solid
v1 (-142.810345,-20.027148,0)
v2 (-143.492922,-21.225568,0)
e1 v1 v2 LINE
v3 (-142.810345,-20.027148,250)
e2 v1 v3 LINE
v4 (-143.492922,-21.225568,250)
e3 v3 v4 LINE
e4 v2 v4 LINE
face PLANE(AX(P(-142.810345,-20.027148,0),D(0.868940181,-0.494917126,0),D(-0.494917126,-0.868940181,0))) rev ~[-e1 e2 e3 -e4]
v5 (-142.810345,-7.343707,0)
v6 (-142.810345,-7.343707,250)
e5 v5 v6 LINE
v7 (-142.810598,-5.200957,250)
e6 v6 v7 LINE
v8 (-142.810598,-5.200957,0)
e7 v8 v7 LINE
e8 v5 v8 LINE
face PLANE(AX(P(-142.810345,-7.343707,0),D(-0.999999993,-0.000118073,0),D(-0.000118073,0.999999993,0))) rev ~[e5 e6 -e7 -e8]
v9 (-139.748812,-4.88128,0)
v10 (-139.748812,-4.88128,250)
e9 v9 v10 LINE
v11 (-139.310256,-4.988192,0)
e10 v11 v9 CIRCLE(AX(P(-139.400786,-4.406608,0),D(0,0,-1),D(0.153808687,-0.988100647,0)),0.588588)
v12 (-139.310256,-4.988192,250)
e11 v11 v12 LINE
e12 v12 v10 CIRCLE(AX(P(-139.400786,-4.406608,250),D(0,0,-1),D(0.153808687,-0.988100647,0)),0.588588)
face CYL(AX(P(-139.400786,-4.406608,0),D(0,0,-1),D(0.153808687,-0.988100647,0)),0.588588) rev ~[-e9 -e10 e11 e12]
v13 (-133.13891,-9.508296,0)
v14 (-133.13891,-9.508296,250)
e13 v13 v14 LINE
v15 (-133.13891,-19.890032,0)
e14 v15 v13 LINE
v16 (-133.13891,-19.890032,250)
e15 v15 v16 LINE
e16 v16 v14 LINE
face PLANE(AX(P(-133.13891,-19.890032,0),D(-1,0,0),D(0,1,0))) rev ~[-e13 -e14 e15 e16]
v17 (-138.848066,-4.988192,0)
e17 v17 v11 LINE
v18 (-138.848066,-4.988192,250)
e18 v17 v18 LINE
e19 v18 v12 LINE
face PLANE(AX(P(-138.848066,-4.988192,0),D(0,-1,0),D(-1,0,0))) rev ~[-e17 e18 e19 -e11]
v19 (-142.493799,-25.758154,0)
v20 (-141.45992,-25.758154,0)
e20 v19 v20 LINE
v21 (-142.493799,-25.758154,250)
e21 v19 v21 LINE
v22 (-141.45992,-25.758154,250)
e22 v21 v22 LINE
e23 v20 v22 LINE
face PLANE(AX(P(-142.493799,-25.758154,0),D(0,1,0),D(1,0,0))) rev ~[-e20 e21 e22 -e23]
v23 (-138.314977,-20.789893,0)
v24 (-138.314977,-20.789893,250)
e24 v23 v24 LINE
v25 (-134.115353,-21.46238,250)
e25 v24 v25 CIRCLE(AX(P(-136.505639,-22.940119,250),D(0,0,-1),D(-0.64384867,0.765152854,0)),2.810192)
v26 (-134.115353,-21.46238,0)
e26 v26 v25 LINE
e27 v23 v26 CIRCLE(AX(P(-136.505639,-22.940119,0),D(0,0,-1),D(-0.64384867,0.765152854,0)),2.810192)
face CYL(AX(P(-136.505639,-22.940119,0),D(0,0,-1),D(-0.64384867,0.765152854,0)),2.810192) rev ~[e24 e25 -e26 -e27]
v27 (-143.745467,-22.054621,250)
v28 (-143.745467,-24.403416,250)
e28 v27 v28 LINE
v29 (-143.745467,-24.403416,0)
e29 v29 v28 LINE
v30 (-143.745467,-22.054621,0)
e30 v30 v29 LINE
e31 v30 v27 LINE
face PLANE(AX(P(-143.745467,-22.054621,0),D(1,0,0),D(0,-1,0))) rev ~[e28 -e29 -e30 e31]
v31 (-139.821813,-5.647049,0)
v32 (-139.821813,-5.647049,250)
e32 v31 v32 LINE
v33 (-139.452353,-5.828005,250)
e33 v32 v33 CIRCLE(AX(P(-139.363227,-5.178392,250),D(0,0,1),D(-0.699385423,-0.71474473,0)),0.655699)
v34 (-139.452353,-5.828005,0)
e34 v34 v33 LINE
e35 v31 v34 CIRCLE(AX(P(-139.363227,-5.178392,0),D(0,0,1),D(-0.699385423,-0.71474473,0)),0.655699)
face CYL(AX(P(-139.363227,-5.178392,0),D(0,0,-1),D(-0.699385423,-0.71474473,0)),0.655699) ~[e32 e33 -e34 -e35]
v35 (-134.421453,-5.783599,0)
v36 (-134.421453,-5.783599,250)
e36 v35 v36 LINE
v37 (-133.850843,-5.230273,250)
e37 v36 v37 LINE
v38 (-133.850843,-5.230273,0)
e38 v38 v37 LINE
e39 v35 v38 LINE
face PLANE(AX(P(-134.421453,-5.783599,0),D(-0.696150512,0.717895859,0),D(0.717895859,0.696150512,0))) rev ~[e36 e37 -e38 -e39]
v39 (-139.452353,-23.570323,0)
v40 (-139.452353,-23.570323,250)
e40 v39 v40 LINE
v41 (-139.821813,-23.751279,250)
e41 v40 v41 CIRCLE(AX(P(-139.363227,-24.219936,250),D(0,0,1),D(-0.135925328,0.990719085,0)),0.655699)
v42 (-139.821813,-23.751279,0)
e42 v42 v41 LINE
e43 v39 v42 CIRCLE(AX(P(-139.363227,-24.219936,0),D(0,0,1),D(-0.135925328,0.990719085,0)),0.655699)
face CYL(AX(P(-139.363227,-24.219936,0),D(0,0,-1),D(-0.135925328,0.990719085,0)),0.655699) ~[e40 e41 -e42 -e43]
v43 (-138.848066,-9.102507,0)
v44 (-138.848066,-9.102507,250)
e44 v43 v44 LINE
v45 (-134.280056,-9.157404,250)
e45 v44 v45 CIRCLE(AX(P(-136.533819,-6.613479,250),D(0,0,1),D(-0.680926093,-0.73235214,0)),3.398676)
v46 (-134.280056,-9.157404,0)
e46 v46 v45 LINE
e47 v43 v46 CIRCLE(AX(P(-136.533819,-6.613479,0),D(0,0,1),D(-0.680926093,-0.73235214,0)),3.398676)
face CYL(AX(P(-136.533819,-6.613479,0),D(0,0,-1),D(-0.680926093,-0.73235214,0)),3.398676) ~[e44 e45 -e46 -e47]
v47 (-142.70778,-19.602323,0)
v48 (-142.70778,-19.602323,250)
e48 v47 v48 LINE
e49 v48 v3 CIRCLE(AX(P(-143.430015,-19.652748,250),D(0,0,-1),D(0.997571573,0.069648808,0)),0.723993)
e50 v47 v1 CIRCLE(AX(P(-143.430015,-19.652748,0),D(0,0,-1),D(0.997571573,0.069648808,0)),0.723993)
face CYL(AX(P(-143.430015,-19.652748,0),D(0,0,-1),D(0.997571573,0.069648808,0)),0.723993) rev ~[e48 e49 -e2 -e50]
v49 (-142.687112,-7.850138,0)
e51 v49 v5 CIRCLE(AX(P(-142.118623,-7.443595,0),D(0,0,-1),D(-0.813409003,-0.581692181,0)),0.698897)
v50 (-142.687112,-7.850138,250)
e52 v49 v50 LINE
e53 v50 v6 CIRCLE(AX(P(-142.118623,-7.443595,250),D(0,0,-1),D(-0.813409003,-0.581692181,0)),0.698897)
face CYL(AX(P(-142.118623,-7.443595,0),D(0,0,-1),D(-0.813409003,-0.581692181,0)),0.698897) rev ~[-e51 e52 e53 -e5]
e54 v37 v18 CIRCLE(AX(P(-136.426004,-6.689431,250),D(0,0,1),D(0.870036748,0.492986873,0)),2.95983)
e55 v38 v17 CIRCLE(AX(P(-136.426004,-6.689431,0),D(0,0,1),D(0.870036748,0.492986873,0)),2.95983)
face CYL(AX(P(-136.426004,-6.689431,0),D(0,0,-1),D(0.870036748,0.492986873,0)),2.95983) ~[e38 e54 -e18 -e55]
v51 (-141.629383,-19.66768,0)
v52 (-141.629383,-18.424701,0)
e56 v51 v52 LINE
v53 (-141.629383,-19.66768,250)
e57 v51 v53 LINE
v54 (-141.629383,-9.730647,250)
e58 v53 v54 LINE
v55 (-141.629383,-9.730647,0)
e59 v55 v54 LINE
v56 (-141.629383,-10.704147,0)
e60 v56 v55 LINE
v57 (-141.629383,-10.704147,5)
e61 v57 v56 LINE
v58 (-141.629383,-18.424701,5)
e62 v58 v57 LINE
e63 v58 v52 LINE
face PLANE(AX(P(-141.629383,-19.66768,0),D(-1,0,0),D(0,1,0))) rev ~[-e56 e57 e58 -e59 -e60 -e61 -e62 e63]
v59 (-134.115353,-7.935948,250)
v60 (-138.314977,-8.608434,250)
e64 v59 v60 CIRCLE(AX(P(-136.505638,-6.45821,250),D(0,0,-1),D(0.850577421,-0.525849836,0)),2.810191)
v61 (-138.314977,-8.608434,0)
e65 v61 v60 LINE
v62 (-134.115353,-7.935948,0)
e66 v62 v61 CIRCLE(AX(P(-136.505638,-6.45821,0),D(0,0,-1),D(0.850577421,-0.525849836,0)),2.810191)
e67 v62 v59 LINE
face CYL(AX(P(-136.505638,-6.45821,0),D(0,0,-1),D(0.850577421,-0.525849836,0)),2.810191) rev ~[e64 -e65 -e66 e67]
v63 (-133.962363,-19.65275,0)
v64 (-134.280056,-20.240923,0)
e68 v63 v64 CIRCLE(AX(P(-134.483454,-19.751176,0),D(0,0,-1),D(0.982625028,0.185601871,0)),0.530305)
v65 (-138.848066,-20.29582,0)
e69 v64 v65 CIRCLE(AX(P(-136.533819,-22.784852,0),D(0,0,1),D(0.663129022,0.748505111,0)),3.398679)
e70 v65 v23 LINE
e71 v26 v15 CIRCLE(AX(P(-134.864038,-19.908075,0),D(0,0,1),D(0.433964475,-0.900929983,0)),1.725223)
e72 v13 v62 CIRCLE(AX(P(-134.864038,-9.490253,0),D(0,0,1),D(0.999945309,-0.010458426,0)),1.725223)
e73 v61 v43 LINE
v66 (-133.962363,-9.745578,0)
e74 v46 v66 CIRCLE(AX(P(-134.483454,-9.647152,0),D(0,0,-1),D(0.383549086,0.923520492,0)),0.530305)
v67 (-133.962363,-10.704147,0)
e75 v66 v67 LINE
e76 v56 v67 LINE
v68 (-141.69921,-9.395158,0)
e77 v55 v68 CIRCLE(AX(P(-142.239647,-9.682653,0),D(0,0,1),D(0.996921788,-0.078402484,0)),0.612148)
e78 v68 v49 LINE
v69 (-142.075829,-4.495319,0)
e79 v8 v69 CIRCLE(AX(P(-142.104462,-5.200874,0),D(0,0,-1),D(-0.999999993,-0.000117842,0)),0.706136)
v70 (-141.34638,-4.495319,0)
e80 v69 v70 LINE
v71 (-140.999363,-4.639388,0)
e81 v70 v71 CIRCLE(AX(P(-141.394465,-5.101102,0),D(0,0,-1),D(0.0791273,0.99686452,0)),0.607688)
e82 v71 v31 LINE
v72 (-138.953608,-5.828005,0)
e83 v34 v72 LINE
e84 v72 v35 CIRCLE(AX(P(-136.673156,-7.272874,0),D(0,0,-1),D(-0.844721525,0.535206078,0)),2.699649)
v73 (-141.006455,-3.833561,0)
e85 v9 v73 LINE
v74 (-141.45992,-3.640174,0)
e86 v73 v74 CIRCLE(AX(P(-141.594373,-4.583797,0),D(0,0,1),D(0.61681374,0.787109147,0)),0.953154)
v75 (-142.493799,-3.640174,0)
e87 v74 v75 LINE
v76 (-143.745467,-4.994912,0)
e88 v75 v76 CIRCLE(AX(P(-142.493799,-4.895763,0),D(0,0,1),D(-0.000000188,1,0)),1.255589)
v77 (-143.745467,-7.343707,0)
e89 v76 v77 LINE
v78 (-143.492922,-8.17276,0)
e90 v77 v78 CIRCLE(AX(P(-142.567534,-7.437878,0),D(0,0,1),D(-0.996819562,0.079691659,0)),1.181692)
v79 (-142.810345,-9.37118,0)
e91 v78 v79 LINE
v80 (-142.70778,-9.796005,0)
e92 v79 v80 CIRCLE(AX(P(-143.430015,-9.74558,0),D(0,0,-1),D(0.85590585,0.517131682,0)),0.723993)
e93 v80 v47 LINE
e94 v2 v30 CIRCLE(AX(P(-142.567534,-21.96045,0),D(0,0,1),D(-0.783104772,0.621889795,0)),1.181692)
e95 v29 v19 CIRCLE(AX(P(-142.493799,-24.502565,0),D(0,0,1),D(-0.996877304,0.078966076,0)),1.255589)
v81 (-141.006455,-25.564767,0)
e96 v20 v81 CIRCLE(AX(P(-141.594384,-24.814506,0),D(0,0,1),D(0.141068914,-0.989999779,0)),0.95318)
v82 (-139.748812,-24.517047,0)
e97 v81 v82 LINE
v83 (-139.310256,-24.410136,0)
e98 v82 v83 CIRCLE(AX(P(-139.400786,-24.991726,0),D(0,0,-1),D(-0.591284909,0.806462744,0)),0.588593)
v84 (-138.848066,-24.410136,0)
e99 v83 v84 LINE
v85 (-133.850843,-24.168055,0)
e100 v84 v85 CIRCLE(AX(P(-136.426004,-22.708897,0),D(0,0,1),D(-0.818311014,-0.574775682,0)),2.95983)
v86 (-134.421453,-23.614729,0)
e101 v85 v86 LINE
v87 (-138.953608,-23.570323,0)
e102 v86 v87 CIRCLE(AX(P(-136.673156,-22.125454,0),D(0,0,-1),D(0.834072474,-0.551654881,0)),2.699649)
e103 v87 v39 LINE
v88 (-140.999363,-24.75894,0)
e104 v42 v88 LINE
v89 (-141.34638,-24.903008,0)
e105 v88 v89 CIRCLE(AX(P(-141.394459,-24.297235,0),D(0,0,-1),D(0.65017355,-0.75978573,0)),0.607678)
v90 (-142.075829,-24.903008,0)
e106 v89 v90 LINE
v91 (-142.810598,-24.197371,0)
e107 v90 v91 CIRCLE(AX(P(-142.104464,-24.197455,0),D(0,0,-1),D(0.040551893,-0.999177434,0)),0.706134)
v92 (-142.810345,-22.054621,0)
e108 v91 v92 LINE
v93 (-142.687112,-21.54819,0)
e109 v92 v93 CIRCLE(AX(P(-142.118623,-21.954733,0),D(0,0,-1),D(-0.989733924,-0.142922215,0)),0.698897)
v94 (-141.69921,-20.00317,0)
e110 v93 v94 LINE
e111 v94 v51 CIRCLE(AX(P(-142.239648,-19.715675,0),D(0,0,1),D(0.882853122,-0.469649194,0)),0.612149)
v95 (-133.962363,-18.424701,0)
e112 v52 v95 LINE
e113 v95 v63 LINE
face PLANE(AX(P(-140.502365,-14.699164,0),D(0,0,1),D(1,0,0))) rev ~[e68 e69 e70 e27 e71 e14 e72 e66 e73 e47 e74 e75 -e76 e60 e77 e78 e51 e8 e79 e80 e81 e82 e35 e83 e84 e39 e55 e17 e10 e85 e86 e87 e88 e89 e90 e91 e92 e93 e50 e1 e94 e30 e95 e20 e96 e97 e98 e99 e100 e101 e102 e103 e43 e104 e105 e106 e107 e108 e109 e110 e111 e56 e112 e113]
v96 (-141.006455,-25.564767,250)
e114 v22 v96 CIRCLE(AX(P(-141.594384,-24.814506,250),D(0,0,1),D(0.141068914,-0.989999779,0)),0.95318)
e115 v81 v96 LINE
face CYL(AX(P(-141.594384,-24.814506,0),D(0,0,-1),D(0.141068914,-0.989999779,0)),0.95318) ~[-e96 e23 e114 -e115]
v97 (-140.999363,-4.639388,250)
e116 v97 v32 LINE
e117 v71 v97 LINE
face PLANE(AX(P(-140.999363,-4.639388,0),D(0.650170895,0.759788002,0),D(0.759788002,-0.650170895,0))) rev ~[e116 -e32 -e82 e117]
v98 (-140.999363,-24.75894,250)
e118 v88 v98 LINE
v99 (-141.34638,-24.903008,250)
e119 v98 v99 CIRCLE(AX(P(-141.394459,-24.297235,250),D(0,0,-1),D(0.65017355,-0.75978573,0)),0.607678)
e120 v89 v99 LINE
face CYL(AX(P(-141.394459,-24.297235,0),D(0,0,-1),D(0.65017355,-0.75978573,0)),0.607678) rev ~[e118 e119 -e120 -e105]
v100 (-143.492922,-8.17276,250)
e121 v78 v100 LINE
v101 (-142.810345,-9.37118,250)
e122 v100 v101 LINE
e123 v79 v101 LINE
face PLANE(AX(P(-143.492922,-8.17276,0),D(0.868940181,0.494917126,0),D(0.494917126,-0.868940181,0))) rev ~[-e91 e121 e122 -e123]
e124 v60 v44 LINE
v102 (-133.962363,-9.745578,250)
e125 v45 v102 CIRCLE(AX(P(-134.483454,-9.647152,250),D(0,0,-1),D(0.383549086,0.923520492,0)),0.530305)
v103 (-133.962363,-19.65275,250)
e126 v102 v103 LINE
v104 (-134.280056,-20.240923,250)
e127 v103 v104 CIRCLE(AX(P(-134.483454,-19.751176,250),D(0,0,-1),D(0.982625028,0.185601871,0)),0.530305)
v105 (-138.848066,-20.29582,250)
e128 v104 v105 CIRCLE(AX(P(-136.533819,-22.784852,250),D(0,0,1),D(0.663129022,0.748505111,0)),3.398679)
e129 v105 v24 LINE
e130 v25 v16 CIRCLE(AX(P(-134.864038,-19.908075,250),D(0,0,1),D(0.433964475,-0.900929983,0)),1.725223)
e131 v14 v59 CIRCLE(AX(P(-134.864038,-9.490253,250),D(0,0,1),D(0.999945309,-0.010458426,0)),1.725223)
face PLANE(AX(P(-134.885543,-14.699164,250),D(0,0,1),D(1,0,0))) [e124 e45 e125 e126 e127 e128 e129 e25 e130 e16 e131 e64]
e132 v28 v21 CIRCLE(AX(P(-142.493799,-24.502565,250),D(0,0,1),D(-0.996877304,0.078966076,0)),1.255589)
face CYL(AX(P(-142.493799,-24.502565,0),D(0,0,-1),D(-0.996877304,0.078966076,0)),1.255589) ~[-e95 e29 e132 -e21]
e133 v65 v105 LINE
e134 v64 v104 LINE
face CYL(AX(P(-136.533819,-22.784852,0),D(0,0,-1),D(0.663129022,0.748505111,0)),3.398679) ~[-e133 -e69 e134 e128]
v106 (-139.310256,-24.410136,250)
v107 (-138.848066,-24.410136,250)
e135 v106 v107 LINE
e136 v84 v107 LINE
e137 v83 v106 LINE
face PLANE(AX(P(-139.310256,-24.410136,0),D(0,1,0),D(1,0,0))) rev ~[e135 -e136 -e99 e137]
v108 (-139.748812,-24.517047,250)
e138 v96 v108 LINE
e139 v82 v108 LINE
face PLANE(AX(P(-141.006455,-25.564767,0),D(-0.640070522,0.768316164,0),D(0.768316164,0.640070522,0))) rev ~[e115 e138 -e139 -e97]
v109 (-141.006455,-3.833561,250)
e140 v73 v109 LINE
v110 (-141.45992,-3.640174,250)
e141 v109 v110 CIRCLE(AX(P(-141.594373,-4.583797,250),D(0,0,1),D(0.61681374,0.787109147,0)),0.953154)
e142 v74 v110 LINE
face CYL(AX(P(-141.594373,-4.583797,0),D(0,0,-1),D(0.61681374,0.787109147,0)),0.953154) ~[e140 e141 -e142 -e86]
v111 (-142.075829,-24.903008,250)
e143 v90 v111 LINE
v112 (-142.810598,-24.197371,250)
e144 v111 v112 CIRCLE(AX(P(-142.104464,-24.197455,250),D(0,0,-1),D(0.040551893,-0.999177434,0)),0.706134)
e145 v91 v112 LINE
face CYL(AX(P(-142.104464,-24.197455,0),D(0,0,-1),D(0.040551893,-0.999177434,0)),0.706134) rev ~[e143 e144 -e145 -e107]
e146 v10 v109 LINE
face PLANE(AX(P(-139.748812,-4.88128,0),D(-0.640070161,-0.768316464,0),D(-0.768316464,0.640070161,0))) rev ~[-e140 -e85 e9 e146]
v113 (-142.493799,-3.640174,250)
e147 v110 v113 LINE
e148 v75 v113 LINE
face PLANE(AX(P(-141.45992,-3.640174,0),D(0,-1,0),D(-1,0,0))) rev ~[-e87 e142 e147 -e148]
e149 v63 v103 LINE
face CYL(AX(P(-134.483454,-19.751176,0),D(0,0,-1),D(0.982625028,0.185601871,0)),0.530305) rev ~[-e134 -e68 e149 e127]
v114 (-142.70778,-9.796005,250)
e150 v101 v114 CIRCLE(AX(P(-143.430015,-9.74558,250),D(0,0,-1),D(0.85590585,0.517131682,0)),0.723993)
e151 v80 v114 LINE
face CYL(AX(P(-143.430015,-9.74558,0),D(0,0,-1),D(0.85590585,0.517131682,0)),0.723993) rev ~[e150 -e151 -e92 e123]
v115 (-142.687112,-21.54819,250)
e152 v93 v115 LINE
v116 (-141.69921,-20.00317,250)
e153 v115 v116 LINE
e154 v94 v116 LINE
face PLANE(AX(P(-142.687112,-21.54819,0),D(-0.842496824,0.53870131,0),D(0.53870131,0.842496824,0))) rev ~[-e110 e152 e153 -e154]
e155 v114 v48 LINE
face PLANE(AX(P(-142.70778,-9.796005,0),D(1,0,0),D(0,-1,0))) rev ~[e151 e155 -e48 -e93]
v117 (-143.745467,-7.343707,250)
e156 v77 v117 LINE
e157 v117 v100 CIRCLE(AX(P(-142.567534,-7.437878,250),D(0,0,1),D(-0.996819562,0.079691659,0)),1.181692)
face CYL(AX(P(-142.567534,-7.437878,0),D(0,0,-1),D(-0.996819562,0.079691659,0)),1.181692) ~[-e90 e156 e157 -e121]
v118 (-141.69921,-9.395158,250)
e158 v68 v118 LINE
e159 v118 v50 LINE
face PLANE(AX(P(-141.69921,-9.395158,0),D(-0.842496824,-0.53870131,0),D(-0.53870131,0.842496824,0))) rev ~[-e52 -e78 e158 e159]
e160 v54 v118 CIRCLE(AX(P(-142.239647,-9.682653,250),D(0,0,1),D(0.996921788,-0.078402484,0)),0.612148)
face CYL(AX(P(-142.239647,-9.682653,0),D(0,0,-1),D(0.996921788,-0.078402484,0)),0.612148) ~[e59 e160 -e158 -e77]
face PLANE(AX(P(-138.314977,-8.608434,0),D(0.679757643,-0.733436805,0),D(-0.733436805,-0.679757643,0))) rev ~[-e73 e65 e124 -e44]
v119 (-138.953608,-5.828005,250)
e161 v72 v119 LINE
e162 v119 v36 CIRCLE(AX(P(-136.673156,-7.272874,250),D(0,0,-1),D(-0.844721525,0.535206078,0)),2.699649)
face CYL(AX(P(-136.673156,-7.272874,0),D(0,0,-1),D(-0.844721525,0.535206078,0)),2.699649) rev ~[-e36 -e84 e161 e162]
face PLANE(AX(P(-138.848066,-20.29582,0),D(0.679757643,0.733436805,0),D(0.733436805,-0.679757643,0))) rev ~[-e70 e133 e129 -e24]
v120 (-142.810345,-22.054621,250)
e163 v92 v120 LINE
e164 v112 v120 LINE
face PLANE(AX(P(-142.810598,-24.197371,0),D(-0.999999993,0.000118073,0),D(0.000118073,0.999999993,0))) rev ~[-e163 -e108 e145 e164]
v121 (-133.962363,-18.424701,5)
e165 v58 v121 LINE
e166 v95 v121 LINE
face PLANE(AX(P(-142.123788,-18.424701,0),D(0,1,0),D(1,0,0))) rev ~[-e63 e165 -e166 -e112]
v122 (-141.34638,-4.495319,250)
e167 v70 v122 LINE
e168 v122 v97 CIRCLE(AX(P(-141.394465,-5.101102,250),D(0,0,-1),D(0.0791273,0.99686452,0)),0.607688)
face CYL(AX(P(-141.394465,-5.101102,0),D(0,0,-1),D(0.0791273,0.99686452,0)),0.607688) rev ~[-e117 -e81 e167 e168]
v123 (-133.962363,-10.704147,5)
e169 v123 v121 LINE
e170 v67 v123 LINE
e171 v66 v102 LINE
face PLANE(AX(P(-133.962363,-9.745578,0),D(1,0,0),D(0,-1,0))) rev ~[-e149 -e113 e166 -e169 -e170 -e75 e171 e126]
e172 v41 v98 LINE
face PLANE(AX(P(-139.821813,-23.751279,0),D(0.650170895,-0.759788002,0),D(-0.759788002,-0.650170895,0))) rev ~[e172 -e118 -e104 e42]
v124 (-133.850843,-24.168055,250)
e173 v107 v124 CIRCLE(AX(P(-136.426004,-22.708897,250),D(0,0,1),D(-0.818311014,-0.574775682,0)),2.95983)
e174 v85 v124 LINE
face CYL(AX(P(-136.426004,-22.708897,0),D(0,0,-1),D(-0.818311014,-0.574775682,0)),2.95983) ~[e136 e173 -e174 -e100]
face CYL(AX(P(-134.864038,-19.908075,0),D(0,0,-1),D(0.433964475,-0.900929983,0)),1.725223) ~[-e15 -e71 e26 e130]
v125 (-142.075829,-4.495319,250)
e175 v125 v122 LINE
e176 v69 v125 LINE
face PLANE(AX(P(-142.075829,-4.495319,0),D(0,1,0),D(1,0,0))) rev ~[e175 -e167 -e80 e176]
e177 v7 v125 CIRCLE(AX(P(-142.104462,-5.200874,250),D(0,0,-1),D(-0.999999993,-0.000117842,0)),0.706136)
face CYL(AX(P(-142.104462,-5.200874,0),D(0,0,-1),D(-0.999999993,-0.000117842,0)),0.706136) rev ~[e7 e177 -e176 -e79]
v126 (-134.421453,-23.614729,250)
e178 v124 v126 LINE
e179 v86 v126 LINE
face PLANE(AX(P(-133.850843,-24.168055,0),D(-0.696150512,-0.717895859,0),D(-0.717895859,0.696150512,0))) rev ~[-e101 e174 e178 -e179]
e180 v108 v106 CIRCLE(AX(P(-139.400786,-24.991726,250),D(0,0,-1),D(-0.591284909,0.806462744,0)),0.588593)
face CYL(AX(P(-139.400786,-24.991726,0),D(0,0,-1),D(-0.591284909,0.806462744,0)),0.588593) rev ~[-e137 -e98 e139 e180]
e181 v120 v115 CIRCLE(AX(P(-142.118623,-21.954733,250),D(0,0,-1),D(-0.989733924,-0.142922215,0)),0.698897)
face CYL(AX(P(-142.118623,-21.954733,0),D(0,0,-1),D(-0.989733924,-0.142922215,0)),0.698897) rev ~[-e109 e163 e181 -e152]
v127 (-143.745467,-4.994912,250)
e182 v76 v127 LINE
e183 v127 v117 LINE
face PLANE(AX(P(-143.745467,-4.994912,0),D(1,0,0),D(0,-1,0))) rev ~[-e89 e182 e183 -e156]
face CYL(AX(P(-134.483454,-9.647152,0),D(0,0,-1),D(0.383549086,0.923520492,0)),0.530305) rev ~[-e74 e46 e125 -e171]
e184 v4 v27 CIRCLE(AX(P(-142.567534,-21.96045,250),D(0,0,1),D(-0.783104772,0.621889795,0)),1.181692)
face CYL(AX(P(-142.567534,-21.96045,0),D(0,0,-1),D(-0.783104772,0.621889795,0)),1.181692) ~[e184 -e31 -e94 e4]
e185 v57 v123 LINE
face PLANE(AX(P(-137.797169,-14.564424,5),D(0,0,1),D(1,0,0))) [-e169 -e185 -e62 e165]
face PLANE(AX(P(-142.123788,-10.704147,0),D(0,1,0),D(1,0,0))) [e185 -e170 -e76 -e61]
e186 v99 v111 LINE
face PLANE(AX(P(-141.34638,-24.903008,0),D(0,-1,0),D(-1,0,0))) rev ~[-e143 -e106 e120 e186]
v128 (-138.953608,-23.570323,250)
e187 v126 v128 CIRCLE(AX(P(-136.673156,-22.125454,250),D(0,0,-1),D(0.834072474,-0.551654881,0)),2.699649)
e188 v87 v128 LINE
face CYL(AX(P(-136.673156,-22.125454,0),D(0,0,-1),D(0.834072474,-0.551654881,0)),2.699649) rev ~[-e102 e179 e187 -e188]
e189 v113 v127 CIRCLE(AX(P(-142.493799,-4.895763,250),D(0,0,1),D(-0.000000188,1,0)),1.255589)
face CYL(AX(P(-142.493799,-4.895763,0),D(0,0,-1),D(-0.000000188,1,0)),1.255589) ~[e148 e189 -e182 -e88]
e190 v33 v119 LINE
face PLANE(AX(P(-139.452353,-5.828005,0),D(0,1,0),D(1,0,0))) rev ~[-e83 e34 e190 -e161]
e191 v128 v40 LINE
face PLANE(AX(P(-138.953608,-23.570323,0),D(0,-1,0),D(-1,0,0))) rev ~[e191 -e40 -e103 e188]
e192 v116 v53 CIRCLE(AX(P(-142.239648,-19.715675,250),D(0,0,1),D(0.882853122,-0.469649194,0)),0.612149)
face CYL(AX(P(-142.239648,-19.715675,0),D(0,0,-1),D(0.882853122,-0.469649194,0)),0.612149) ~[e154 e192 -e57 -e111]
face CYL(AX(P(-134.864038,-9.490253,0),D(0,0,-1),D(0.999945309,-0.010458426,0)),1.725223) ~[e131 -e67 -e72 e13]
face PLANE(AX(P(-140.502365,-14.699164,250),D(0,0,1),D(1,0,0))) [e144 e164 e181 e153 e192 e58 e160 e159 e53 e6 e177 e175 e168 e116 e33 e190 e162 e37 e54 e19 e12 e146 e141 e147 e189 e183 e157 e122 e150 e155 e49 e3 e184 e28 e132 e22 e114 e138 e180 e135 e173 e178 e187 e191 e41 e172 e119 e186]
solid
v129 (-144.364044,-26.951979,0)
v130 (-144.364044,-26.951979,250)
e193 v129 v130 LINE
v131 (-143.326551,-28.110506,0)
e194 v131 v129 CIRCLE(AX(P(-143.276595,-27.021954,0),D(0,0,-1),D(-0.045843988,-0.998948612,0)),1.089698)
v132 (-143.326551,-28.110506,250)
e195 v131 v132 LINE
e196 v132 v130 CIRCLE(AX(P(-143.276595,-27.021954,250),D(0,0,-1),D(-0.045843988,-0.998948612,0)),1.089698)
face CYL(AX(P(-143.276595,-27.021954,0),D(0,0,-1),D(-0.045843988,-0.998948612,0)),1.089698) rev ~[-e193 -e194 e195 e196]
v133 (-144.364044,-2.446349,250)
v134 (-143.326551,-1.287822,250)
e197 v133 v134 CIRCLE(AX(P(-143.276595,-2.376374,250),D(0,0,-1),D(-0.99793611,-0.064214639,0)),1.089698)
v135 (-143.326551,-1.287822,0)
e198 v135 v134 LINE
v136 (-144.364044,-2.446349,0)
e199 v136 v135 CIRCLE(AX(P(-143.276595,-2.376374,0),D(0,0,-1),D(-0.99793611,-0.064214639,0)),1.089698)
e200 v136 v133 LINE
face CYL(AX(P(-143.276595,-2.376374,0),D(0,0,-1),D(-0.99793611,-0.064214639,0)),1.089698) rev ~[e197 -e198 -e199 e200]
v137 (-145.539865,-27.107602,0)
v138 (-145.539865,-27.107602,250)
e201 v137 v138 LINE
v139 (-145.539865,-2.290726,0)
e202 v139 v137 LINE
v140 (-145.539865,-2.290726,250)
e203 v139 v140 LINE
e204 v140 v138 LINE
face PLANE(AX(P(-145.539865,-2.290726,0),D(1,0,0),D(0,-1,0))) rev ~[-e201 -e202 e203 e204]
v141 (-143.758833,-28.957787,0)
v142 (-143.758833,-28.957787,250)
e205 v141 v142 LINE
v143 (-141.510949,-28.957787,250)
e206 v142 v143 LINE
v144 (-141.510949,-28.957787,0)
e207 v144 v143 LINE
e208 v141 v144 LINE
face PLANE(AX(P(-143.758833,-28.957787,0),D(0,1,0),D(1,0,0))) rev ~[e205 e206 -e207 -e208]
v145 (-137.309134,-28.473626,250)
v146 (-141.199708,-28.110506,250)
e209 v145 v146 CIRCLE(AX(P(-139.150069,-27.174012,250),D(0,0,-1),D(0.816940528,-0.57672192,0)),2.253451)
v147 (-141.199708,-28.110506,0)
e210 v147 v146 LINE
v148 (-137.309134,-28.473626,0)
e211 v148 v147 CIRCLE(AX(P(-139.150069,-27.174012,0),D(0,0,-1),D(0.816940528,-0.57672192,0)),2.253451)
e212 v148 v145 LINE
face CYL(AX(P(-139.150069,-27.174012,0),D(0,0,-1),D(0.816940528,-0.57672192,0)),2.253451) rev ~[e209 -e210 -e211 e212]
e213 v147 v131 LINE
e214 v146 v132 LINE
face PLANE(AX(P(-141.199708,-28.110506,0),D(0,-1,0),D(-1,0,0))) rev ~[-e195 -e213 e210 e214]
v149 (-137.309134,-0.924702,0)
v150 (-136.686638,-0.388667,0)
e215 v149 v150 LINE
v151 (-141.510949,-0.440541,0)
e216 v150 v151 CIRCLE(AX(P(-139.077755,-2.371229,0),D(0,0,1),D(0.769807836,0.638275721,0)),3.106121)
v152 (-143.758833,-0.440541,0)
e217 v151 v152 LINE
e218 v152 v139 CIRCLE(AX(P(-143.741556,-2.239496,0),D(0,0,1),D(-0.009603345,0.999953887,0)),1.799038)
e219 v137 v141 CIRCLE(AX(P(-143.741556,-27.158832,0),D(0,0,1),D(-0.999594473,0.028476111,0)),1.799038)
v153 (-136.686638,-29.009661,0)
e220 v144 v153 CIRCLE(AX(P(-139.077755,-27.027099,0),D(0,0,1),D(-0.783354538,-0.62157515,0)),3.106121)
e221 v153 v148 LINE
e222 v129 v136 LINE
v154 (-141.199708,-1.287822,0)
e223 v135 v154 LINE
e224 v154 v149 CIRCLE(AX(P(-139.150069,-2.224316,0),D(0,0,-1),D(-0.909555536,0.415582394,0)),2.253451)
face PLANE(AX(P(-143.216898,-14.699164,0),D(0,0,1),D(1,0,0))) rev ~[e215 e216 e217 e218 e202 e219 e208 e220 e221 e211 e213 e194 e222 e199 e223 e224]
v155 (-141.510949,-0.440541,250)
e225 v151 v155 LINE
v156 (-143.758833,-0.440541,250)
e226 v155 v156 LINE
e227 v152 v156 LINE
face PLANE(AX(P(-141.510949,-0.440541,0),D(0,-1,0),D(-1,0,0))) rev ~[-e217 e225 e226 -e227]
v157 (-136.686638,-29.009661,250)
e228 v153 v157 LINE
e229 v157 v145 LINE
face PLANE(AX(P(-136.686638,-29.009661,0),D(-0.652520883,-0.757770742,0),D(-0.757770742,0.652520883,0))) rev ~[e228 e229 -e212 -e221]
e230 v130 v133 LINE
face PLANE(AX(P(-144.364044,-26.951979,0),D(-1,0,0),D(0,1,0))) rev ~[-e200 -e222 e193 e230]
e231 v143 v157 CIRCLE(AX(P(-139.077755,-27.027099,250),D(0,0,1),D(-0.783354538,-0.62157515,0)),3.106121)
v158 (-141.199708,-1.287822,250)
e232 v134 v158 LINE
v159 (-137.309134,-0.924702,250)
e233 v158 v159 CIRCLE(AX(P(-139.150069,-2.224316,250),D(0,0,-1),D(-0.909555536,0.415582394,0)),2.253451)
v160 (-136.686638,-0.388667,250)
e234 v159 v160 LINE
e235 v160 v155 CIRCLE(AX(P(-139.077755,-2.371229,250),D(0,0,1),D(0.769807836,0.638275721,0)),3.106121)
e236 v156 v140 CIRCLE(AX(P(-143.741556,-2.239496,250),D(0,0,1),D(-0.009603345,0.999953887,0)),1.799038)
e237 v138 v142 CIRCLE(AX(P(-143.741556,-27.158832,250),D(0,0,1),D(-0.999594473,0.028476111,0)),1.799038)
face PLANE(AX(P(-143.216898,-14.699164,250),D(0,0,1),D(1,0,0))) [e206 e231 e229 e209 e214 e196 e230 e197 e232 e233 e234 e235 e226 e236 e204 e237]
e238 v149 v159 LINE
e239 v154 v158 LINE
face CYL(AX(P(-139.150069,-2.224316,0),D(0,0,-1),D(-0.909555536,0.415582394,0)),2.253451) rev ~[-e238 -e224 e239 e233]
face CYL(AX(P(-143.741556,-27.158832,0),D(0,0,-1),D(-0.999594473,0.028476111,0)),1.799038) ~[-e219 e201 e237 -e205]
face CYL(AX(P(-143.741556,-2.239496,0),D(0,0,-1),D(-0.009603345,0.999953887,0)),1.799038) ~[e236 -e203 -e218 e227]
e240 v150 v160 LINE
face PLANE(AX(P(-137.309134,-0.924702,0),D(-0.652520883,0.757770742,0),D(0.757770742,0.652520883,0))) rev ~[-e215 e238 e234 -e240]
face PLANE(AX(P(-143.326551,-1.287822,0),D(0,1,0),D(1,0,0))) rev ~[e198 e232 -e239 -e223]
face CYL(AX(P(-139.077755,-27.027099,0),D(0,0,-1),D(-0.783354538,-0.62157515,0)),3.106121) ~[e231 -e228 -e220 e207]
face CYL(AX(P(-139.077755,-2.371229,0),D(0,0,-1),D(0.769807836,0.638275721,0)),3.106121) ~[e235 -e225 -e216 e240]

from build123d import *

# Parameters (mm, degrees)
F1_DEPTH = 250
F2_DEPTH = 250
F3_W     = 8.653239
F3_H     = 7.720554
F4_DEPTH = 5


with BuildPart() as f1:
    # F0 (on Top) → F1 (new body)
    with BuildSketch(Plane.XY):
        with BuildLine():
            Line((-137.309134, -0.924702), (-136.686638, -0.388667))
            ThreePointArc((-136.686638, -0.388667), (-139.111152, 0.734713), (-141.510949, -0.440541))
            Line((-141.510949, -0.440541), (-143.758833, -0.440541))
            ThreePointArc((-143.758833, -0.440541), (-145.03766, -0.991837), (-145.539865, -2.290726))
            Line((-145.539865, -2.290726), (-145.539865, -27.107602))
            ThreePointArc((-145.539865, -27.107602), (-145.03766, -28.406491), (-143.758833, -28.957787))
            Line((-143.758833, -28.957787), (-141.510949, -28.957787))
            ThreePointArc((-141.510949, -28.957787), (-139.111152, -30.133041), (-136.686638, -29.009661))
            Line((-136.686638, -29.009661), (-137.309134, -28.473626))
            ThreePointArc((-137.309134, -28.473626), (-139.359481, -29.417711), (-141.199708, -28.110506))
            Line((-141.199708, -28.110506), (-143.326551, -28.110506))
            ThreePointArc((-143.326551, -28.110506), (-144.088364, -27.748915), (-144.364044, -26.951979))
            Line((-144.364044, -26.951979), (-144.364044, -2.446349))
            ThreePointArc((-144.364044, -2.446349), (-144.088364, -1.649413), (-143.326551, -1.287822))
            Line((-143.326551, -1.287822), (-141.199708, -1.287822))
            ThreePointArc((-141.199708, -1.287822), (-139.359481, 0.019383), (-137.309134, -0.924702))
        make_face()
    extrude(amount=F1_DEPTH)


with BuildPart() as f2:
    # F0 (on Top) → F2 (new body)
    with BuildSketch(Plane.XY):
        with BuildLine():
            Line((-134.421453, -5.783599), (-133.850843, -5.230273))
            ThreePointArc((-133.850843, -5.230273), (-136.282789, -3.733067), (-138.848066, -4.988192))
            Line((-138.848066, -4.988192), (-139.310256, -4.988192))
            ThreePointArc((-139.310256, -4.988192), (-139.54019, -4.978449), (-139.748812, -4.88128))
            Line((-139.748812, -4.88128), (-141.006455, -3.833561))
            ThreePointArc((-141.006455, -3.833561), (-141.220469, -3.707043), (-141.45992, -3.640174))
            Line((-141.45992, -3.640174), (-142.493799, -3.640174))
            ThreePointArc((-142.493799, -3.640174), (-143.416023, -4.043703), (-143.745467, -4.994912))
            Line((-143.745467, -4.994912), (-143.745467, -7.343707))
            ThreePointArc((-143.745467, -7.343707), (-143.697942, -7.782221), (-143.492922, -8.17276))
            Line((-143.492922, -8.17276), (-142.810345, -9.37118))
            ThreePointArc((-142.810345, -9.37118), (-142.726242, -9.575669), (-142.70778, -9.796005))
            Line((-142.70778, -9.796005), (-142.70778, -19.602323))
            ThreePointArc((-142.70778, -19.602323), (-142.726242, -19.822659), (-142.810345, -20.027148))
            Line((-142.810345, -20.027148), (-143.492922, -21.225568))
            ThreePointArc((-143.492922, -21.225568), (-143.697942, -21.616107), (-143.745467, -22.054621))
            Line((-143.745467, -22.054621), (-143.745467, -24.403416))
            ThreePointArc((-143.745467, -24.403416), (-143.416023, -25.354625), (-142.493799, -25.758154))
            Line((-142.493799, -25.758154), (-141.45992, -25.758154))
            ThreePointArc((-141.45992, -25.758154), (-141.220469, -25.691284), (-141.006455, -25.564767))
            Line((-141.006455, -25.564767), (-139.748812, -24.517047))
            ThreePointArc((-139.748812, -24.517047), (-139.54019, -24.419879), (-139.310256, -24.410136))
            Line((-139.310256, -24.410136), (-138.848066, -24.410136))
            ThreePointArc((-138.848066, -24.410136), (-136.282789, -25.665261), (-133.850843, -24.168055))
            Line((-133.850843, -24.168055), (-134.421453, -23.614729))
            ThreePointArc((-134.421453, -23.614729), (-136.699606, -24.824974), (-138.953608, -23.570323))
            Line((-138.953608, -23.570323), (-139.452353, -23.570323))
            ThreePointArc((-139.452353, -23.570323), (-139.651642, -23.631075), (-139.821813, -23.751279))
            Line((-139.821813, -23.751279), (-140.999363, -24.75894))
            ThreePointArc((-140.999363, -24.75894), (-141.161457, -24.858468), (-141.34638, -24.903008))
            Line((-141.34638, -24.903008), (-142.075829, -24.903008))
            ThreePointArc((-142.075829, -24.903008), (-142.593578, -24.706761), (-142.810598, -24.197371))
            Line((-142.810598, -24.197371), (-142.810345, -22.054621))
            ThreePointArc((-142.810345, -22.054621), (-142.797704, -21.789488), (-142.687112, -21.54819))
            Line((-142.687112, -21.54819), (-141.69921, -20.00317))
            ThreePointArc((-141.69921, -20.00317), (-141.640342, -19.840411), (-141.629383, -19.66768))
            Line((-141.629383, -19.66768), (-141.629383, -9.730647))
            ThreePointArc((-141.629383, -9.730647), (-141.640342, -9.557917), (-141.69921, -9.395158))
            Line((-141.69921, -9.395158), (-142.687112, -7.850138))
            ThreePointArc((-142.687112, -7.850138), (-142.797704, -7.60884), (-142.810345, -7.343707))
            Line((-142.810345, -7.343707), (-142.810598, -5.200957))
            ThreePointArc((-142.810598, -5.200957), (-142.593578, -4.691567), (-142.075829, -4.495319))
            Line((-142.075829, -4.495319), (-141.34638, -4.495319))
            ThreePointArc((-141.34638, -4.495319), (-141.161457, -4.53986), (-140.999363, -4.639388))
            Line((-140.999363, -4.639388), (-139.821813, -5.647049))
            ThreePointArc((-139.821813, -5.647049), (-139.651642, -5.767253), (-139.452353, -5.828005))
            Line((-139.452353, -5.828005), (-138.953608, -5.828005))
            ThreePointArc((-138.953608, -5.828005), (-136.699606, -4.573354), (-134.421453, -5.783599))
        make_face()
        with BuildLine():
            ThreePointArc((-134.115353, -7.935948), (-136.061303, -9.23305), (-138.314977, -8.608434))
            Line((-138.314977, -8.608434), (-138.848066, -9.102507))
            ThreePointArc((-138.848066, -9.102507), (-136.57466, -10.01191), (-134.280056, -9.157404))
            ThreePointArc((-134.280056, -9.157404), (-134.016862, -9.395129), (-133.962363, -9.745578))
            Line((-133.962363, -9.745578), (-133.962363, -19.65275))
            ThreePointArc((-133.962363, -19.65275), (-134.016862, -20.003198), (-134.280056, -20.240923))
            ThreePointArc((-134.280056, -20.240923), (-136.57466, -19.386418), (-138.848066, -20.29582))
            Line((-138.848066, -20.29582), (-138.314977, -20.789893))
            ThreePointArc((-138.314977, -20.789893), (-136.061303, -20.165278), (-134.115353, -21.46238))
            ThreePointArc((-134.115353, -21.46238), (-133.39843, -20.818232), (-133.13891, -19.890032))
            Line((-133.13891, -19.890032), (-133.13891, -9.508296))
            ThreePointArc((-133.13891, -9.508296), (-133.39843, -8.580096), (-134.115353, -7.935948))
        make_face()
    extrude(amount=F2_DEPTH)

    # F3 (on Top) → F4 (join)
    with BuildSketch(Plane.XY):
        with Locations((-137.797169, -14.564424)):
            Rectangle(F3_W, F3_H)
    extrude(amount=F4_DEPTH)


solid = Compound([f1.part, f2.part])
